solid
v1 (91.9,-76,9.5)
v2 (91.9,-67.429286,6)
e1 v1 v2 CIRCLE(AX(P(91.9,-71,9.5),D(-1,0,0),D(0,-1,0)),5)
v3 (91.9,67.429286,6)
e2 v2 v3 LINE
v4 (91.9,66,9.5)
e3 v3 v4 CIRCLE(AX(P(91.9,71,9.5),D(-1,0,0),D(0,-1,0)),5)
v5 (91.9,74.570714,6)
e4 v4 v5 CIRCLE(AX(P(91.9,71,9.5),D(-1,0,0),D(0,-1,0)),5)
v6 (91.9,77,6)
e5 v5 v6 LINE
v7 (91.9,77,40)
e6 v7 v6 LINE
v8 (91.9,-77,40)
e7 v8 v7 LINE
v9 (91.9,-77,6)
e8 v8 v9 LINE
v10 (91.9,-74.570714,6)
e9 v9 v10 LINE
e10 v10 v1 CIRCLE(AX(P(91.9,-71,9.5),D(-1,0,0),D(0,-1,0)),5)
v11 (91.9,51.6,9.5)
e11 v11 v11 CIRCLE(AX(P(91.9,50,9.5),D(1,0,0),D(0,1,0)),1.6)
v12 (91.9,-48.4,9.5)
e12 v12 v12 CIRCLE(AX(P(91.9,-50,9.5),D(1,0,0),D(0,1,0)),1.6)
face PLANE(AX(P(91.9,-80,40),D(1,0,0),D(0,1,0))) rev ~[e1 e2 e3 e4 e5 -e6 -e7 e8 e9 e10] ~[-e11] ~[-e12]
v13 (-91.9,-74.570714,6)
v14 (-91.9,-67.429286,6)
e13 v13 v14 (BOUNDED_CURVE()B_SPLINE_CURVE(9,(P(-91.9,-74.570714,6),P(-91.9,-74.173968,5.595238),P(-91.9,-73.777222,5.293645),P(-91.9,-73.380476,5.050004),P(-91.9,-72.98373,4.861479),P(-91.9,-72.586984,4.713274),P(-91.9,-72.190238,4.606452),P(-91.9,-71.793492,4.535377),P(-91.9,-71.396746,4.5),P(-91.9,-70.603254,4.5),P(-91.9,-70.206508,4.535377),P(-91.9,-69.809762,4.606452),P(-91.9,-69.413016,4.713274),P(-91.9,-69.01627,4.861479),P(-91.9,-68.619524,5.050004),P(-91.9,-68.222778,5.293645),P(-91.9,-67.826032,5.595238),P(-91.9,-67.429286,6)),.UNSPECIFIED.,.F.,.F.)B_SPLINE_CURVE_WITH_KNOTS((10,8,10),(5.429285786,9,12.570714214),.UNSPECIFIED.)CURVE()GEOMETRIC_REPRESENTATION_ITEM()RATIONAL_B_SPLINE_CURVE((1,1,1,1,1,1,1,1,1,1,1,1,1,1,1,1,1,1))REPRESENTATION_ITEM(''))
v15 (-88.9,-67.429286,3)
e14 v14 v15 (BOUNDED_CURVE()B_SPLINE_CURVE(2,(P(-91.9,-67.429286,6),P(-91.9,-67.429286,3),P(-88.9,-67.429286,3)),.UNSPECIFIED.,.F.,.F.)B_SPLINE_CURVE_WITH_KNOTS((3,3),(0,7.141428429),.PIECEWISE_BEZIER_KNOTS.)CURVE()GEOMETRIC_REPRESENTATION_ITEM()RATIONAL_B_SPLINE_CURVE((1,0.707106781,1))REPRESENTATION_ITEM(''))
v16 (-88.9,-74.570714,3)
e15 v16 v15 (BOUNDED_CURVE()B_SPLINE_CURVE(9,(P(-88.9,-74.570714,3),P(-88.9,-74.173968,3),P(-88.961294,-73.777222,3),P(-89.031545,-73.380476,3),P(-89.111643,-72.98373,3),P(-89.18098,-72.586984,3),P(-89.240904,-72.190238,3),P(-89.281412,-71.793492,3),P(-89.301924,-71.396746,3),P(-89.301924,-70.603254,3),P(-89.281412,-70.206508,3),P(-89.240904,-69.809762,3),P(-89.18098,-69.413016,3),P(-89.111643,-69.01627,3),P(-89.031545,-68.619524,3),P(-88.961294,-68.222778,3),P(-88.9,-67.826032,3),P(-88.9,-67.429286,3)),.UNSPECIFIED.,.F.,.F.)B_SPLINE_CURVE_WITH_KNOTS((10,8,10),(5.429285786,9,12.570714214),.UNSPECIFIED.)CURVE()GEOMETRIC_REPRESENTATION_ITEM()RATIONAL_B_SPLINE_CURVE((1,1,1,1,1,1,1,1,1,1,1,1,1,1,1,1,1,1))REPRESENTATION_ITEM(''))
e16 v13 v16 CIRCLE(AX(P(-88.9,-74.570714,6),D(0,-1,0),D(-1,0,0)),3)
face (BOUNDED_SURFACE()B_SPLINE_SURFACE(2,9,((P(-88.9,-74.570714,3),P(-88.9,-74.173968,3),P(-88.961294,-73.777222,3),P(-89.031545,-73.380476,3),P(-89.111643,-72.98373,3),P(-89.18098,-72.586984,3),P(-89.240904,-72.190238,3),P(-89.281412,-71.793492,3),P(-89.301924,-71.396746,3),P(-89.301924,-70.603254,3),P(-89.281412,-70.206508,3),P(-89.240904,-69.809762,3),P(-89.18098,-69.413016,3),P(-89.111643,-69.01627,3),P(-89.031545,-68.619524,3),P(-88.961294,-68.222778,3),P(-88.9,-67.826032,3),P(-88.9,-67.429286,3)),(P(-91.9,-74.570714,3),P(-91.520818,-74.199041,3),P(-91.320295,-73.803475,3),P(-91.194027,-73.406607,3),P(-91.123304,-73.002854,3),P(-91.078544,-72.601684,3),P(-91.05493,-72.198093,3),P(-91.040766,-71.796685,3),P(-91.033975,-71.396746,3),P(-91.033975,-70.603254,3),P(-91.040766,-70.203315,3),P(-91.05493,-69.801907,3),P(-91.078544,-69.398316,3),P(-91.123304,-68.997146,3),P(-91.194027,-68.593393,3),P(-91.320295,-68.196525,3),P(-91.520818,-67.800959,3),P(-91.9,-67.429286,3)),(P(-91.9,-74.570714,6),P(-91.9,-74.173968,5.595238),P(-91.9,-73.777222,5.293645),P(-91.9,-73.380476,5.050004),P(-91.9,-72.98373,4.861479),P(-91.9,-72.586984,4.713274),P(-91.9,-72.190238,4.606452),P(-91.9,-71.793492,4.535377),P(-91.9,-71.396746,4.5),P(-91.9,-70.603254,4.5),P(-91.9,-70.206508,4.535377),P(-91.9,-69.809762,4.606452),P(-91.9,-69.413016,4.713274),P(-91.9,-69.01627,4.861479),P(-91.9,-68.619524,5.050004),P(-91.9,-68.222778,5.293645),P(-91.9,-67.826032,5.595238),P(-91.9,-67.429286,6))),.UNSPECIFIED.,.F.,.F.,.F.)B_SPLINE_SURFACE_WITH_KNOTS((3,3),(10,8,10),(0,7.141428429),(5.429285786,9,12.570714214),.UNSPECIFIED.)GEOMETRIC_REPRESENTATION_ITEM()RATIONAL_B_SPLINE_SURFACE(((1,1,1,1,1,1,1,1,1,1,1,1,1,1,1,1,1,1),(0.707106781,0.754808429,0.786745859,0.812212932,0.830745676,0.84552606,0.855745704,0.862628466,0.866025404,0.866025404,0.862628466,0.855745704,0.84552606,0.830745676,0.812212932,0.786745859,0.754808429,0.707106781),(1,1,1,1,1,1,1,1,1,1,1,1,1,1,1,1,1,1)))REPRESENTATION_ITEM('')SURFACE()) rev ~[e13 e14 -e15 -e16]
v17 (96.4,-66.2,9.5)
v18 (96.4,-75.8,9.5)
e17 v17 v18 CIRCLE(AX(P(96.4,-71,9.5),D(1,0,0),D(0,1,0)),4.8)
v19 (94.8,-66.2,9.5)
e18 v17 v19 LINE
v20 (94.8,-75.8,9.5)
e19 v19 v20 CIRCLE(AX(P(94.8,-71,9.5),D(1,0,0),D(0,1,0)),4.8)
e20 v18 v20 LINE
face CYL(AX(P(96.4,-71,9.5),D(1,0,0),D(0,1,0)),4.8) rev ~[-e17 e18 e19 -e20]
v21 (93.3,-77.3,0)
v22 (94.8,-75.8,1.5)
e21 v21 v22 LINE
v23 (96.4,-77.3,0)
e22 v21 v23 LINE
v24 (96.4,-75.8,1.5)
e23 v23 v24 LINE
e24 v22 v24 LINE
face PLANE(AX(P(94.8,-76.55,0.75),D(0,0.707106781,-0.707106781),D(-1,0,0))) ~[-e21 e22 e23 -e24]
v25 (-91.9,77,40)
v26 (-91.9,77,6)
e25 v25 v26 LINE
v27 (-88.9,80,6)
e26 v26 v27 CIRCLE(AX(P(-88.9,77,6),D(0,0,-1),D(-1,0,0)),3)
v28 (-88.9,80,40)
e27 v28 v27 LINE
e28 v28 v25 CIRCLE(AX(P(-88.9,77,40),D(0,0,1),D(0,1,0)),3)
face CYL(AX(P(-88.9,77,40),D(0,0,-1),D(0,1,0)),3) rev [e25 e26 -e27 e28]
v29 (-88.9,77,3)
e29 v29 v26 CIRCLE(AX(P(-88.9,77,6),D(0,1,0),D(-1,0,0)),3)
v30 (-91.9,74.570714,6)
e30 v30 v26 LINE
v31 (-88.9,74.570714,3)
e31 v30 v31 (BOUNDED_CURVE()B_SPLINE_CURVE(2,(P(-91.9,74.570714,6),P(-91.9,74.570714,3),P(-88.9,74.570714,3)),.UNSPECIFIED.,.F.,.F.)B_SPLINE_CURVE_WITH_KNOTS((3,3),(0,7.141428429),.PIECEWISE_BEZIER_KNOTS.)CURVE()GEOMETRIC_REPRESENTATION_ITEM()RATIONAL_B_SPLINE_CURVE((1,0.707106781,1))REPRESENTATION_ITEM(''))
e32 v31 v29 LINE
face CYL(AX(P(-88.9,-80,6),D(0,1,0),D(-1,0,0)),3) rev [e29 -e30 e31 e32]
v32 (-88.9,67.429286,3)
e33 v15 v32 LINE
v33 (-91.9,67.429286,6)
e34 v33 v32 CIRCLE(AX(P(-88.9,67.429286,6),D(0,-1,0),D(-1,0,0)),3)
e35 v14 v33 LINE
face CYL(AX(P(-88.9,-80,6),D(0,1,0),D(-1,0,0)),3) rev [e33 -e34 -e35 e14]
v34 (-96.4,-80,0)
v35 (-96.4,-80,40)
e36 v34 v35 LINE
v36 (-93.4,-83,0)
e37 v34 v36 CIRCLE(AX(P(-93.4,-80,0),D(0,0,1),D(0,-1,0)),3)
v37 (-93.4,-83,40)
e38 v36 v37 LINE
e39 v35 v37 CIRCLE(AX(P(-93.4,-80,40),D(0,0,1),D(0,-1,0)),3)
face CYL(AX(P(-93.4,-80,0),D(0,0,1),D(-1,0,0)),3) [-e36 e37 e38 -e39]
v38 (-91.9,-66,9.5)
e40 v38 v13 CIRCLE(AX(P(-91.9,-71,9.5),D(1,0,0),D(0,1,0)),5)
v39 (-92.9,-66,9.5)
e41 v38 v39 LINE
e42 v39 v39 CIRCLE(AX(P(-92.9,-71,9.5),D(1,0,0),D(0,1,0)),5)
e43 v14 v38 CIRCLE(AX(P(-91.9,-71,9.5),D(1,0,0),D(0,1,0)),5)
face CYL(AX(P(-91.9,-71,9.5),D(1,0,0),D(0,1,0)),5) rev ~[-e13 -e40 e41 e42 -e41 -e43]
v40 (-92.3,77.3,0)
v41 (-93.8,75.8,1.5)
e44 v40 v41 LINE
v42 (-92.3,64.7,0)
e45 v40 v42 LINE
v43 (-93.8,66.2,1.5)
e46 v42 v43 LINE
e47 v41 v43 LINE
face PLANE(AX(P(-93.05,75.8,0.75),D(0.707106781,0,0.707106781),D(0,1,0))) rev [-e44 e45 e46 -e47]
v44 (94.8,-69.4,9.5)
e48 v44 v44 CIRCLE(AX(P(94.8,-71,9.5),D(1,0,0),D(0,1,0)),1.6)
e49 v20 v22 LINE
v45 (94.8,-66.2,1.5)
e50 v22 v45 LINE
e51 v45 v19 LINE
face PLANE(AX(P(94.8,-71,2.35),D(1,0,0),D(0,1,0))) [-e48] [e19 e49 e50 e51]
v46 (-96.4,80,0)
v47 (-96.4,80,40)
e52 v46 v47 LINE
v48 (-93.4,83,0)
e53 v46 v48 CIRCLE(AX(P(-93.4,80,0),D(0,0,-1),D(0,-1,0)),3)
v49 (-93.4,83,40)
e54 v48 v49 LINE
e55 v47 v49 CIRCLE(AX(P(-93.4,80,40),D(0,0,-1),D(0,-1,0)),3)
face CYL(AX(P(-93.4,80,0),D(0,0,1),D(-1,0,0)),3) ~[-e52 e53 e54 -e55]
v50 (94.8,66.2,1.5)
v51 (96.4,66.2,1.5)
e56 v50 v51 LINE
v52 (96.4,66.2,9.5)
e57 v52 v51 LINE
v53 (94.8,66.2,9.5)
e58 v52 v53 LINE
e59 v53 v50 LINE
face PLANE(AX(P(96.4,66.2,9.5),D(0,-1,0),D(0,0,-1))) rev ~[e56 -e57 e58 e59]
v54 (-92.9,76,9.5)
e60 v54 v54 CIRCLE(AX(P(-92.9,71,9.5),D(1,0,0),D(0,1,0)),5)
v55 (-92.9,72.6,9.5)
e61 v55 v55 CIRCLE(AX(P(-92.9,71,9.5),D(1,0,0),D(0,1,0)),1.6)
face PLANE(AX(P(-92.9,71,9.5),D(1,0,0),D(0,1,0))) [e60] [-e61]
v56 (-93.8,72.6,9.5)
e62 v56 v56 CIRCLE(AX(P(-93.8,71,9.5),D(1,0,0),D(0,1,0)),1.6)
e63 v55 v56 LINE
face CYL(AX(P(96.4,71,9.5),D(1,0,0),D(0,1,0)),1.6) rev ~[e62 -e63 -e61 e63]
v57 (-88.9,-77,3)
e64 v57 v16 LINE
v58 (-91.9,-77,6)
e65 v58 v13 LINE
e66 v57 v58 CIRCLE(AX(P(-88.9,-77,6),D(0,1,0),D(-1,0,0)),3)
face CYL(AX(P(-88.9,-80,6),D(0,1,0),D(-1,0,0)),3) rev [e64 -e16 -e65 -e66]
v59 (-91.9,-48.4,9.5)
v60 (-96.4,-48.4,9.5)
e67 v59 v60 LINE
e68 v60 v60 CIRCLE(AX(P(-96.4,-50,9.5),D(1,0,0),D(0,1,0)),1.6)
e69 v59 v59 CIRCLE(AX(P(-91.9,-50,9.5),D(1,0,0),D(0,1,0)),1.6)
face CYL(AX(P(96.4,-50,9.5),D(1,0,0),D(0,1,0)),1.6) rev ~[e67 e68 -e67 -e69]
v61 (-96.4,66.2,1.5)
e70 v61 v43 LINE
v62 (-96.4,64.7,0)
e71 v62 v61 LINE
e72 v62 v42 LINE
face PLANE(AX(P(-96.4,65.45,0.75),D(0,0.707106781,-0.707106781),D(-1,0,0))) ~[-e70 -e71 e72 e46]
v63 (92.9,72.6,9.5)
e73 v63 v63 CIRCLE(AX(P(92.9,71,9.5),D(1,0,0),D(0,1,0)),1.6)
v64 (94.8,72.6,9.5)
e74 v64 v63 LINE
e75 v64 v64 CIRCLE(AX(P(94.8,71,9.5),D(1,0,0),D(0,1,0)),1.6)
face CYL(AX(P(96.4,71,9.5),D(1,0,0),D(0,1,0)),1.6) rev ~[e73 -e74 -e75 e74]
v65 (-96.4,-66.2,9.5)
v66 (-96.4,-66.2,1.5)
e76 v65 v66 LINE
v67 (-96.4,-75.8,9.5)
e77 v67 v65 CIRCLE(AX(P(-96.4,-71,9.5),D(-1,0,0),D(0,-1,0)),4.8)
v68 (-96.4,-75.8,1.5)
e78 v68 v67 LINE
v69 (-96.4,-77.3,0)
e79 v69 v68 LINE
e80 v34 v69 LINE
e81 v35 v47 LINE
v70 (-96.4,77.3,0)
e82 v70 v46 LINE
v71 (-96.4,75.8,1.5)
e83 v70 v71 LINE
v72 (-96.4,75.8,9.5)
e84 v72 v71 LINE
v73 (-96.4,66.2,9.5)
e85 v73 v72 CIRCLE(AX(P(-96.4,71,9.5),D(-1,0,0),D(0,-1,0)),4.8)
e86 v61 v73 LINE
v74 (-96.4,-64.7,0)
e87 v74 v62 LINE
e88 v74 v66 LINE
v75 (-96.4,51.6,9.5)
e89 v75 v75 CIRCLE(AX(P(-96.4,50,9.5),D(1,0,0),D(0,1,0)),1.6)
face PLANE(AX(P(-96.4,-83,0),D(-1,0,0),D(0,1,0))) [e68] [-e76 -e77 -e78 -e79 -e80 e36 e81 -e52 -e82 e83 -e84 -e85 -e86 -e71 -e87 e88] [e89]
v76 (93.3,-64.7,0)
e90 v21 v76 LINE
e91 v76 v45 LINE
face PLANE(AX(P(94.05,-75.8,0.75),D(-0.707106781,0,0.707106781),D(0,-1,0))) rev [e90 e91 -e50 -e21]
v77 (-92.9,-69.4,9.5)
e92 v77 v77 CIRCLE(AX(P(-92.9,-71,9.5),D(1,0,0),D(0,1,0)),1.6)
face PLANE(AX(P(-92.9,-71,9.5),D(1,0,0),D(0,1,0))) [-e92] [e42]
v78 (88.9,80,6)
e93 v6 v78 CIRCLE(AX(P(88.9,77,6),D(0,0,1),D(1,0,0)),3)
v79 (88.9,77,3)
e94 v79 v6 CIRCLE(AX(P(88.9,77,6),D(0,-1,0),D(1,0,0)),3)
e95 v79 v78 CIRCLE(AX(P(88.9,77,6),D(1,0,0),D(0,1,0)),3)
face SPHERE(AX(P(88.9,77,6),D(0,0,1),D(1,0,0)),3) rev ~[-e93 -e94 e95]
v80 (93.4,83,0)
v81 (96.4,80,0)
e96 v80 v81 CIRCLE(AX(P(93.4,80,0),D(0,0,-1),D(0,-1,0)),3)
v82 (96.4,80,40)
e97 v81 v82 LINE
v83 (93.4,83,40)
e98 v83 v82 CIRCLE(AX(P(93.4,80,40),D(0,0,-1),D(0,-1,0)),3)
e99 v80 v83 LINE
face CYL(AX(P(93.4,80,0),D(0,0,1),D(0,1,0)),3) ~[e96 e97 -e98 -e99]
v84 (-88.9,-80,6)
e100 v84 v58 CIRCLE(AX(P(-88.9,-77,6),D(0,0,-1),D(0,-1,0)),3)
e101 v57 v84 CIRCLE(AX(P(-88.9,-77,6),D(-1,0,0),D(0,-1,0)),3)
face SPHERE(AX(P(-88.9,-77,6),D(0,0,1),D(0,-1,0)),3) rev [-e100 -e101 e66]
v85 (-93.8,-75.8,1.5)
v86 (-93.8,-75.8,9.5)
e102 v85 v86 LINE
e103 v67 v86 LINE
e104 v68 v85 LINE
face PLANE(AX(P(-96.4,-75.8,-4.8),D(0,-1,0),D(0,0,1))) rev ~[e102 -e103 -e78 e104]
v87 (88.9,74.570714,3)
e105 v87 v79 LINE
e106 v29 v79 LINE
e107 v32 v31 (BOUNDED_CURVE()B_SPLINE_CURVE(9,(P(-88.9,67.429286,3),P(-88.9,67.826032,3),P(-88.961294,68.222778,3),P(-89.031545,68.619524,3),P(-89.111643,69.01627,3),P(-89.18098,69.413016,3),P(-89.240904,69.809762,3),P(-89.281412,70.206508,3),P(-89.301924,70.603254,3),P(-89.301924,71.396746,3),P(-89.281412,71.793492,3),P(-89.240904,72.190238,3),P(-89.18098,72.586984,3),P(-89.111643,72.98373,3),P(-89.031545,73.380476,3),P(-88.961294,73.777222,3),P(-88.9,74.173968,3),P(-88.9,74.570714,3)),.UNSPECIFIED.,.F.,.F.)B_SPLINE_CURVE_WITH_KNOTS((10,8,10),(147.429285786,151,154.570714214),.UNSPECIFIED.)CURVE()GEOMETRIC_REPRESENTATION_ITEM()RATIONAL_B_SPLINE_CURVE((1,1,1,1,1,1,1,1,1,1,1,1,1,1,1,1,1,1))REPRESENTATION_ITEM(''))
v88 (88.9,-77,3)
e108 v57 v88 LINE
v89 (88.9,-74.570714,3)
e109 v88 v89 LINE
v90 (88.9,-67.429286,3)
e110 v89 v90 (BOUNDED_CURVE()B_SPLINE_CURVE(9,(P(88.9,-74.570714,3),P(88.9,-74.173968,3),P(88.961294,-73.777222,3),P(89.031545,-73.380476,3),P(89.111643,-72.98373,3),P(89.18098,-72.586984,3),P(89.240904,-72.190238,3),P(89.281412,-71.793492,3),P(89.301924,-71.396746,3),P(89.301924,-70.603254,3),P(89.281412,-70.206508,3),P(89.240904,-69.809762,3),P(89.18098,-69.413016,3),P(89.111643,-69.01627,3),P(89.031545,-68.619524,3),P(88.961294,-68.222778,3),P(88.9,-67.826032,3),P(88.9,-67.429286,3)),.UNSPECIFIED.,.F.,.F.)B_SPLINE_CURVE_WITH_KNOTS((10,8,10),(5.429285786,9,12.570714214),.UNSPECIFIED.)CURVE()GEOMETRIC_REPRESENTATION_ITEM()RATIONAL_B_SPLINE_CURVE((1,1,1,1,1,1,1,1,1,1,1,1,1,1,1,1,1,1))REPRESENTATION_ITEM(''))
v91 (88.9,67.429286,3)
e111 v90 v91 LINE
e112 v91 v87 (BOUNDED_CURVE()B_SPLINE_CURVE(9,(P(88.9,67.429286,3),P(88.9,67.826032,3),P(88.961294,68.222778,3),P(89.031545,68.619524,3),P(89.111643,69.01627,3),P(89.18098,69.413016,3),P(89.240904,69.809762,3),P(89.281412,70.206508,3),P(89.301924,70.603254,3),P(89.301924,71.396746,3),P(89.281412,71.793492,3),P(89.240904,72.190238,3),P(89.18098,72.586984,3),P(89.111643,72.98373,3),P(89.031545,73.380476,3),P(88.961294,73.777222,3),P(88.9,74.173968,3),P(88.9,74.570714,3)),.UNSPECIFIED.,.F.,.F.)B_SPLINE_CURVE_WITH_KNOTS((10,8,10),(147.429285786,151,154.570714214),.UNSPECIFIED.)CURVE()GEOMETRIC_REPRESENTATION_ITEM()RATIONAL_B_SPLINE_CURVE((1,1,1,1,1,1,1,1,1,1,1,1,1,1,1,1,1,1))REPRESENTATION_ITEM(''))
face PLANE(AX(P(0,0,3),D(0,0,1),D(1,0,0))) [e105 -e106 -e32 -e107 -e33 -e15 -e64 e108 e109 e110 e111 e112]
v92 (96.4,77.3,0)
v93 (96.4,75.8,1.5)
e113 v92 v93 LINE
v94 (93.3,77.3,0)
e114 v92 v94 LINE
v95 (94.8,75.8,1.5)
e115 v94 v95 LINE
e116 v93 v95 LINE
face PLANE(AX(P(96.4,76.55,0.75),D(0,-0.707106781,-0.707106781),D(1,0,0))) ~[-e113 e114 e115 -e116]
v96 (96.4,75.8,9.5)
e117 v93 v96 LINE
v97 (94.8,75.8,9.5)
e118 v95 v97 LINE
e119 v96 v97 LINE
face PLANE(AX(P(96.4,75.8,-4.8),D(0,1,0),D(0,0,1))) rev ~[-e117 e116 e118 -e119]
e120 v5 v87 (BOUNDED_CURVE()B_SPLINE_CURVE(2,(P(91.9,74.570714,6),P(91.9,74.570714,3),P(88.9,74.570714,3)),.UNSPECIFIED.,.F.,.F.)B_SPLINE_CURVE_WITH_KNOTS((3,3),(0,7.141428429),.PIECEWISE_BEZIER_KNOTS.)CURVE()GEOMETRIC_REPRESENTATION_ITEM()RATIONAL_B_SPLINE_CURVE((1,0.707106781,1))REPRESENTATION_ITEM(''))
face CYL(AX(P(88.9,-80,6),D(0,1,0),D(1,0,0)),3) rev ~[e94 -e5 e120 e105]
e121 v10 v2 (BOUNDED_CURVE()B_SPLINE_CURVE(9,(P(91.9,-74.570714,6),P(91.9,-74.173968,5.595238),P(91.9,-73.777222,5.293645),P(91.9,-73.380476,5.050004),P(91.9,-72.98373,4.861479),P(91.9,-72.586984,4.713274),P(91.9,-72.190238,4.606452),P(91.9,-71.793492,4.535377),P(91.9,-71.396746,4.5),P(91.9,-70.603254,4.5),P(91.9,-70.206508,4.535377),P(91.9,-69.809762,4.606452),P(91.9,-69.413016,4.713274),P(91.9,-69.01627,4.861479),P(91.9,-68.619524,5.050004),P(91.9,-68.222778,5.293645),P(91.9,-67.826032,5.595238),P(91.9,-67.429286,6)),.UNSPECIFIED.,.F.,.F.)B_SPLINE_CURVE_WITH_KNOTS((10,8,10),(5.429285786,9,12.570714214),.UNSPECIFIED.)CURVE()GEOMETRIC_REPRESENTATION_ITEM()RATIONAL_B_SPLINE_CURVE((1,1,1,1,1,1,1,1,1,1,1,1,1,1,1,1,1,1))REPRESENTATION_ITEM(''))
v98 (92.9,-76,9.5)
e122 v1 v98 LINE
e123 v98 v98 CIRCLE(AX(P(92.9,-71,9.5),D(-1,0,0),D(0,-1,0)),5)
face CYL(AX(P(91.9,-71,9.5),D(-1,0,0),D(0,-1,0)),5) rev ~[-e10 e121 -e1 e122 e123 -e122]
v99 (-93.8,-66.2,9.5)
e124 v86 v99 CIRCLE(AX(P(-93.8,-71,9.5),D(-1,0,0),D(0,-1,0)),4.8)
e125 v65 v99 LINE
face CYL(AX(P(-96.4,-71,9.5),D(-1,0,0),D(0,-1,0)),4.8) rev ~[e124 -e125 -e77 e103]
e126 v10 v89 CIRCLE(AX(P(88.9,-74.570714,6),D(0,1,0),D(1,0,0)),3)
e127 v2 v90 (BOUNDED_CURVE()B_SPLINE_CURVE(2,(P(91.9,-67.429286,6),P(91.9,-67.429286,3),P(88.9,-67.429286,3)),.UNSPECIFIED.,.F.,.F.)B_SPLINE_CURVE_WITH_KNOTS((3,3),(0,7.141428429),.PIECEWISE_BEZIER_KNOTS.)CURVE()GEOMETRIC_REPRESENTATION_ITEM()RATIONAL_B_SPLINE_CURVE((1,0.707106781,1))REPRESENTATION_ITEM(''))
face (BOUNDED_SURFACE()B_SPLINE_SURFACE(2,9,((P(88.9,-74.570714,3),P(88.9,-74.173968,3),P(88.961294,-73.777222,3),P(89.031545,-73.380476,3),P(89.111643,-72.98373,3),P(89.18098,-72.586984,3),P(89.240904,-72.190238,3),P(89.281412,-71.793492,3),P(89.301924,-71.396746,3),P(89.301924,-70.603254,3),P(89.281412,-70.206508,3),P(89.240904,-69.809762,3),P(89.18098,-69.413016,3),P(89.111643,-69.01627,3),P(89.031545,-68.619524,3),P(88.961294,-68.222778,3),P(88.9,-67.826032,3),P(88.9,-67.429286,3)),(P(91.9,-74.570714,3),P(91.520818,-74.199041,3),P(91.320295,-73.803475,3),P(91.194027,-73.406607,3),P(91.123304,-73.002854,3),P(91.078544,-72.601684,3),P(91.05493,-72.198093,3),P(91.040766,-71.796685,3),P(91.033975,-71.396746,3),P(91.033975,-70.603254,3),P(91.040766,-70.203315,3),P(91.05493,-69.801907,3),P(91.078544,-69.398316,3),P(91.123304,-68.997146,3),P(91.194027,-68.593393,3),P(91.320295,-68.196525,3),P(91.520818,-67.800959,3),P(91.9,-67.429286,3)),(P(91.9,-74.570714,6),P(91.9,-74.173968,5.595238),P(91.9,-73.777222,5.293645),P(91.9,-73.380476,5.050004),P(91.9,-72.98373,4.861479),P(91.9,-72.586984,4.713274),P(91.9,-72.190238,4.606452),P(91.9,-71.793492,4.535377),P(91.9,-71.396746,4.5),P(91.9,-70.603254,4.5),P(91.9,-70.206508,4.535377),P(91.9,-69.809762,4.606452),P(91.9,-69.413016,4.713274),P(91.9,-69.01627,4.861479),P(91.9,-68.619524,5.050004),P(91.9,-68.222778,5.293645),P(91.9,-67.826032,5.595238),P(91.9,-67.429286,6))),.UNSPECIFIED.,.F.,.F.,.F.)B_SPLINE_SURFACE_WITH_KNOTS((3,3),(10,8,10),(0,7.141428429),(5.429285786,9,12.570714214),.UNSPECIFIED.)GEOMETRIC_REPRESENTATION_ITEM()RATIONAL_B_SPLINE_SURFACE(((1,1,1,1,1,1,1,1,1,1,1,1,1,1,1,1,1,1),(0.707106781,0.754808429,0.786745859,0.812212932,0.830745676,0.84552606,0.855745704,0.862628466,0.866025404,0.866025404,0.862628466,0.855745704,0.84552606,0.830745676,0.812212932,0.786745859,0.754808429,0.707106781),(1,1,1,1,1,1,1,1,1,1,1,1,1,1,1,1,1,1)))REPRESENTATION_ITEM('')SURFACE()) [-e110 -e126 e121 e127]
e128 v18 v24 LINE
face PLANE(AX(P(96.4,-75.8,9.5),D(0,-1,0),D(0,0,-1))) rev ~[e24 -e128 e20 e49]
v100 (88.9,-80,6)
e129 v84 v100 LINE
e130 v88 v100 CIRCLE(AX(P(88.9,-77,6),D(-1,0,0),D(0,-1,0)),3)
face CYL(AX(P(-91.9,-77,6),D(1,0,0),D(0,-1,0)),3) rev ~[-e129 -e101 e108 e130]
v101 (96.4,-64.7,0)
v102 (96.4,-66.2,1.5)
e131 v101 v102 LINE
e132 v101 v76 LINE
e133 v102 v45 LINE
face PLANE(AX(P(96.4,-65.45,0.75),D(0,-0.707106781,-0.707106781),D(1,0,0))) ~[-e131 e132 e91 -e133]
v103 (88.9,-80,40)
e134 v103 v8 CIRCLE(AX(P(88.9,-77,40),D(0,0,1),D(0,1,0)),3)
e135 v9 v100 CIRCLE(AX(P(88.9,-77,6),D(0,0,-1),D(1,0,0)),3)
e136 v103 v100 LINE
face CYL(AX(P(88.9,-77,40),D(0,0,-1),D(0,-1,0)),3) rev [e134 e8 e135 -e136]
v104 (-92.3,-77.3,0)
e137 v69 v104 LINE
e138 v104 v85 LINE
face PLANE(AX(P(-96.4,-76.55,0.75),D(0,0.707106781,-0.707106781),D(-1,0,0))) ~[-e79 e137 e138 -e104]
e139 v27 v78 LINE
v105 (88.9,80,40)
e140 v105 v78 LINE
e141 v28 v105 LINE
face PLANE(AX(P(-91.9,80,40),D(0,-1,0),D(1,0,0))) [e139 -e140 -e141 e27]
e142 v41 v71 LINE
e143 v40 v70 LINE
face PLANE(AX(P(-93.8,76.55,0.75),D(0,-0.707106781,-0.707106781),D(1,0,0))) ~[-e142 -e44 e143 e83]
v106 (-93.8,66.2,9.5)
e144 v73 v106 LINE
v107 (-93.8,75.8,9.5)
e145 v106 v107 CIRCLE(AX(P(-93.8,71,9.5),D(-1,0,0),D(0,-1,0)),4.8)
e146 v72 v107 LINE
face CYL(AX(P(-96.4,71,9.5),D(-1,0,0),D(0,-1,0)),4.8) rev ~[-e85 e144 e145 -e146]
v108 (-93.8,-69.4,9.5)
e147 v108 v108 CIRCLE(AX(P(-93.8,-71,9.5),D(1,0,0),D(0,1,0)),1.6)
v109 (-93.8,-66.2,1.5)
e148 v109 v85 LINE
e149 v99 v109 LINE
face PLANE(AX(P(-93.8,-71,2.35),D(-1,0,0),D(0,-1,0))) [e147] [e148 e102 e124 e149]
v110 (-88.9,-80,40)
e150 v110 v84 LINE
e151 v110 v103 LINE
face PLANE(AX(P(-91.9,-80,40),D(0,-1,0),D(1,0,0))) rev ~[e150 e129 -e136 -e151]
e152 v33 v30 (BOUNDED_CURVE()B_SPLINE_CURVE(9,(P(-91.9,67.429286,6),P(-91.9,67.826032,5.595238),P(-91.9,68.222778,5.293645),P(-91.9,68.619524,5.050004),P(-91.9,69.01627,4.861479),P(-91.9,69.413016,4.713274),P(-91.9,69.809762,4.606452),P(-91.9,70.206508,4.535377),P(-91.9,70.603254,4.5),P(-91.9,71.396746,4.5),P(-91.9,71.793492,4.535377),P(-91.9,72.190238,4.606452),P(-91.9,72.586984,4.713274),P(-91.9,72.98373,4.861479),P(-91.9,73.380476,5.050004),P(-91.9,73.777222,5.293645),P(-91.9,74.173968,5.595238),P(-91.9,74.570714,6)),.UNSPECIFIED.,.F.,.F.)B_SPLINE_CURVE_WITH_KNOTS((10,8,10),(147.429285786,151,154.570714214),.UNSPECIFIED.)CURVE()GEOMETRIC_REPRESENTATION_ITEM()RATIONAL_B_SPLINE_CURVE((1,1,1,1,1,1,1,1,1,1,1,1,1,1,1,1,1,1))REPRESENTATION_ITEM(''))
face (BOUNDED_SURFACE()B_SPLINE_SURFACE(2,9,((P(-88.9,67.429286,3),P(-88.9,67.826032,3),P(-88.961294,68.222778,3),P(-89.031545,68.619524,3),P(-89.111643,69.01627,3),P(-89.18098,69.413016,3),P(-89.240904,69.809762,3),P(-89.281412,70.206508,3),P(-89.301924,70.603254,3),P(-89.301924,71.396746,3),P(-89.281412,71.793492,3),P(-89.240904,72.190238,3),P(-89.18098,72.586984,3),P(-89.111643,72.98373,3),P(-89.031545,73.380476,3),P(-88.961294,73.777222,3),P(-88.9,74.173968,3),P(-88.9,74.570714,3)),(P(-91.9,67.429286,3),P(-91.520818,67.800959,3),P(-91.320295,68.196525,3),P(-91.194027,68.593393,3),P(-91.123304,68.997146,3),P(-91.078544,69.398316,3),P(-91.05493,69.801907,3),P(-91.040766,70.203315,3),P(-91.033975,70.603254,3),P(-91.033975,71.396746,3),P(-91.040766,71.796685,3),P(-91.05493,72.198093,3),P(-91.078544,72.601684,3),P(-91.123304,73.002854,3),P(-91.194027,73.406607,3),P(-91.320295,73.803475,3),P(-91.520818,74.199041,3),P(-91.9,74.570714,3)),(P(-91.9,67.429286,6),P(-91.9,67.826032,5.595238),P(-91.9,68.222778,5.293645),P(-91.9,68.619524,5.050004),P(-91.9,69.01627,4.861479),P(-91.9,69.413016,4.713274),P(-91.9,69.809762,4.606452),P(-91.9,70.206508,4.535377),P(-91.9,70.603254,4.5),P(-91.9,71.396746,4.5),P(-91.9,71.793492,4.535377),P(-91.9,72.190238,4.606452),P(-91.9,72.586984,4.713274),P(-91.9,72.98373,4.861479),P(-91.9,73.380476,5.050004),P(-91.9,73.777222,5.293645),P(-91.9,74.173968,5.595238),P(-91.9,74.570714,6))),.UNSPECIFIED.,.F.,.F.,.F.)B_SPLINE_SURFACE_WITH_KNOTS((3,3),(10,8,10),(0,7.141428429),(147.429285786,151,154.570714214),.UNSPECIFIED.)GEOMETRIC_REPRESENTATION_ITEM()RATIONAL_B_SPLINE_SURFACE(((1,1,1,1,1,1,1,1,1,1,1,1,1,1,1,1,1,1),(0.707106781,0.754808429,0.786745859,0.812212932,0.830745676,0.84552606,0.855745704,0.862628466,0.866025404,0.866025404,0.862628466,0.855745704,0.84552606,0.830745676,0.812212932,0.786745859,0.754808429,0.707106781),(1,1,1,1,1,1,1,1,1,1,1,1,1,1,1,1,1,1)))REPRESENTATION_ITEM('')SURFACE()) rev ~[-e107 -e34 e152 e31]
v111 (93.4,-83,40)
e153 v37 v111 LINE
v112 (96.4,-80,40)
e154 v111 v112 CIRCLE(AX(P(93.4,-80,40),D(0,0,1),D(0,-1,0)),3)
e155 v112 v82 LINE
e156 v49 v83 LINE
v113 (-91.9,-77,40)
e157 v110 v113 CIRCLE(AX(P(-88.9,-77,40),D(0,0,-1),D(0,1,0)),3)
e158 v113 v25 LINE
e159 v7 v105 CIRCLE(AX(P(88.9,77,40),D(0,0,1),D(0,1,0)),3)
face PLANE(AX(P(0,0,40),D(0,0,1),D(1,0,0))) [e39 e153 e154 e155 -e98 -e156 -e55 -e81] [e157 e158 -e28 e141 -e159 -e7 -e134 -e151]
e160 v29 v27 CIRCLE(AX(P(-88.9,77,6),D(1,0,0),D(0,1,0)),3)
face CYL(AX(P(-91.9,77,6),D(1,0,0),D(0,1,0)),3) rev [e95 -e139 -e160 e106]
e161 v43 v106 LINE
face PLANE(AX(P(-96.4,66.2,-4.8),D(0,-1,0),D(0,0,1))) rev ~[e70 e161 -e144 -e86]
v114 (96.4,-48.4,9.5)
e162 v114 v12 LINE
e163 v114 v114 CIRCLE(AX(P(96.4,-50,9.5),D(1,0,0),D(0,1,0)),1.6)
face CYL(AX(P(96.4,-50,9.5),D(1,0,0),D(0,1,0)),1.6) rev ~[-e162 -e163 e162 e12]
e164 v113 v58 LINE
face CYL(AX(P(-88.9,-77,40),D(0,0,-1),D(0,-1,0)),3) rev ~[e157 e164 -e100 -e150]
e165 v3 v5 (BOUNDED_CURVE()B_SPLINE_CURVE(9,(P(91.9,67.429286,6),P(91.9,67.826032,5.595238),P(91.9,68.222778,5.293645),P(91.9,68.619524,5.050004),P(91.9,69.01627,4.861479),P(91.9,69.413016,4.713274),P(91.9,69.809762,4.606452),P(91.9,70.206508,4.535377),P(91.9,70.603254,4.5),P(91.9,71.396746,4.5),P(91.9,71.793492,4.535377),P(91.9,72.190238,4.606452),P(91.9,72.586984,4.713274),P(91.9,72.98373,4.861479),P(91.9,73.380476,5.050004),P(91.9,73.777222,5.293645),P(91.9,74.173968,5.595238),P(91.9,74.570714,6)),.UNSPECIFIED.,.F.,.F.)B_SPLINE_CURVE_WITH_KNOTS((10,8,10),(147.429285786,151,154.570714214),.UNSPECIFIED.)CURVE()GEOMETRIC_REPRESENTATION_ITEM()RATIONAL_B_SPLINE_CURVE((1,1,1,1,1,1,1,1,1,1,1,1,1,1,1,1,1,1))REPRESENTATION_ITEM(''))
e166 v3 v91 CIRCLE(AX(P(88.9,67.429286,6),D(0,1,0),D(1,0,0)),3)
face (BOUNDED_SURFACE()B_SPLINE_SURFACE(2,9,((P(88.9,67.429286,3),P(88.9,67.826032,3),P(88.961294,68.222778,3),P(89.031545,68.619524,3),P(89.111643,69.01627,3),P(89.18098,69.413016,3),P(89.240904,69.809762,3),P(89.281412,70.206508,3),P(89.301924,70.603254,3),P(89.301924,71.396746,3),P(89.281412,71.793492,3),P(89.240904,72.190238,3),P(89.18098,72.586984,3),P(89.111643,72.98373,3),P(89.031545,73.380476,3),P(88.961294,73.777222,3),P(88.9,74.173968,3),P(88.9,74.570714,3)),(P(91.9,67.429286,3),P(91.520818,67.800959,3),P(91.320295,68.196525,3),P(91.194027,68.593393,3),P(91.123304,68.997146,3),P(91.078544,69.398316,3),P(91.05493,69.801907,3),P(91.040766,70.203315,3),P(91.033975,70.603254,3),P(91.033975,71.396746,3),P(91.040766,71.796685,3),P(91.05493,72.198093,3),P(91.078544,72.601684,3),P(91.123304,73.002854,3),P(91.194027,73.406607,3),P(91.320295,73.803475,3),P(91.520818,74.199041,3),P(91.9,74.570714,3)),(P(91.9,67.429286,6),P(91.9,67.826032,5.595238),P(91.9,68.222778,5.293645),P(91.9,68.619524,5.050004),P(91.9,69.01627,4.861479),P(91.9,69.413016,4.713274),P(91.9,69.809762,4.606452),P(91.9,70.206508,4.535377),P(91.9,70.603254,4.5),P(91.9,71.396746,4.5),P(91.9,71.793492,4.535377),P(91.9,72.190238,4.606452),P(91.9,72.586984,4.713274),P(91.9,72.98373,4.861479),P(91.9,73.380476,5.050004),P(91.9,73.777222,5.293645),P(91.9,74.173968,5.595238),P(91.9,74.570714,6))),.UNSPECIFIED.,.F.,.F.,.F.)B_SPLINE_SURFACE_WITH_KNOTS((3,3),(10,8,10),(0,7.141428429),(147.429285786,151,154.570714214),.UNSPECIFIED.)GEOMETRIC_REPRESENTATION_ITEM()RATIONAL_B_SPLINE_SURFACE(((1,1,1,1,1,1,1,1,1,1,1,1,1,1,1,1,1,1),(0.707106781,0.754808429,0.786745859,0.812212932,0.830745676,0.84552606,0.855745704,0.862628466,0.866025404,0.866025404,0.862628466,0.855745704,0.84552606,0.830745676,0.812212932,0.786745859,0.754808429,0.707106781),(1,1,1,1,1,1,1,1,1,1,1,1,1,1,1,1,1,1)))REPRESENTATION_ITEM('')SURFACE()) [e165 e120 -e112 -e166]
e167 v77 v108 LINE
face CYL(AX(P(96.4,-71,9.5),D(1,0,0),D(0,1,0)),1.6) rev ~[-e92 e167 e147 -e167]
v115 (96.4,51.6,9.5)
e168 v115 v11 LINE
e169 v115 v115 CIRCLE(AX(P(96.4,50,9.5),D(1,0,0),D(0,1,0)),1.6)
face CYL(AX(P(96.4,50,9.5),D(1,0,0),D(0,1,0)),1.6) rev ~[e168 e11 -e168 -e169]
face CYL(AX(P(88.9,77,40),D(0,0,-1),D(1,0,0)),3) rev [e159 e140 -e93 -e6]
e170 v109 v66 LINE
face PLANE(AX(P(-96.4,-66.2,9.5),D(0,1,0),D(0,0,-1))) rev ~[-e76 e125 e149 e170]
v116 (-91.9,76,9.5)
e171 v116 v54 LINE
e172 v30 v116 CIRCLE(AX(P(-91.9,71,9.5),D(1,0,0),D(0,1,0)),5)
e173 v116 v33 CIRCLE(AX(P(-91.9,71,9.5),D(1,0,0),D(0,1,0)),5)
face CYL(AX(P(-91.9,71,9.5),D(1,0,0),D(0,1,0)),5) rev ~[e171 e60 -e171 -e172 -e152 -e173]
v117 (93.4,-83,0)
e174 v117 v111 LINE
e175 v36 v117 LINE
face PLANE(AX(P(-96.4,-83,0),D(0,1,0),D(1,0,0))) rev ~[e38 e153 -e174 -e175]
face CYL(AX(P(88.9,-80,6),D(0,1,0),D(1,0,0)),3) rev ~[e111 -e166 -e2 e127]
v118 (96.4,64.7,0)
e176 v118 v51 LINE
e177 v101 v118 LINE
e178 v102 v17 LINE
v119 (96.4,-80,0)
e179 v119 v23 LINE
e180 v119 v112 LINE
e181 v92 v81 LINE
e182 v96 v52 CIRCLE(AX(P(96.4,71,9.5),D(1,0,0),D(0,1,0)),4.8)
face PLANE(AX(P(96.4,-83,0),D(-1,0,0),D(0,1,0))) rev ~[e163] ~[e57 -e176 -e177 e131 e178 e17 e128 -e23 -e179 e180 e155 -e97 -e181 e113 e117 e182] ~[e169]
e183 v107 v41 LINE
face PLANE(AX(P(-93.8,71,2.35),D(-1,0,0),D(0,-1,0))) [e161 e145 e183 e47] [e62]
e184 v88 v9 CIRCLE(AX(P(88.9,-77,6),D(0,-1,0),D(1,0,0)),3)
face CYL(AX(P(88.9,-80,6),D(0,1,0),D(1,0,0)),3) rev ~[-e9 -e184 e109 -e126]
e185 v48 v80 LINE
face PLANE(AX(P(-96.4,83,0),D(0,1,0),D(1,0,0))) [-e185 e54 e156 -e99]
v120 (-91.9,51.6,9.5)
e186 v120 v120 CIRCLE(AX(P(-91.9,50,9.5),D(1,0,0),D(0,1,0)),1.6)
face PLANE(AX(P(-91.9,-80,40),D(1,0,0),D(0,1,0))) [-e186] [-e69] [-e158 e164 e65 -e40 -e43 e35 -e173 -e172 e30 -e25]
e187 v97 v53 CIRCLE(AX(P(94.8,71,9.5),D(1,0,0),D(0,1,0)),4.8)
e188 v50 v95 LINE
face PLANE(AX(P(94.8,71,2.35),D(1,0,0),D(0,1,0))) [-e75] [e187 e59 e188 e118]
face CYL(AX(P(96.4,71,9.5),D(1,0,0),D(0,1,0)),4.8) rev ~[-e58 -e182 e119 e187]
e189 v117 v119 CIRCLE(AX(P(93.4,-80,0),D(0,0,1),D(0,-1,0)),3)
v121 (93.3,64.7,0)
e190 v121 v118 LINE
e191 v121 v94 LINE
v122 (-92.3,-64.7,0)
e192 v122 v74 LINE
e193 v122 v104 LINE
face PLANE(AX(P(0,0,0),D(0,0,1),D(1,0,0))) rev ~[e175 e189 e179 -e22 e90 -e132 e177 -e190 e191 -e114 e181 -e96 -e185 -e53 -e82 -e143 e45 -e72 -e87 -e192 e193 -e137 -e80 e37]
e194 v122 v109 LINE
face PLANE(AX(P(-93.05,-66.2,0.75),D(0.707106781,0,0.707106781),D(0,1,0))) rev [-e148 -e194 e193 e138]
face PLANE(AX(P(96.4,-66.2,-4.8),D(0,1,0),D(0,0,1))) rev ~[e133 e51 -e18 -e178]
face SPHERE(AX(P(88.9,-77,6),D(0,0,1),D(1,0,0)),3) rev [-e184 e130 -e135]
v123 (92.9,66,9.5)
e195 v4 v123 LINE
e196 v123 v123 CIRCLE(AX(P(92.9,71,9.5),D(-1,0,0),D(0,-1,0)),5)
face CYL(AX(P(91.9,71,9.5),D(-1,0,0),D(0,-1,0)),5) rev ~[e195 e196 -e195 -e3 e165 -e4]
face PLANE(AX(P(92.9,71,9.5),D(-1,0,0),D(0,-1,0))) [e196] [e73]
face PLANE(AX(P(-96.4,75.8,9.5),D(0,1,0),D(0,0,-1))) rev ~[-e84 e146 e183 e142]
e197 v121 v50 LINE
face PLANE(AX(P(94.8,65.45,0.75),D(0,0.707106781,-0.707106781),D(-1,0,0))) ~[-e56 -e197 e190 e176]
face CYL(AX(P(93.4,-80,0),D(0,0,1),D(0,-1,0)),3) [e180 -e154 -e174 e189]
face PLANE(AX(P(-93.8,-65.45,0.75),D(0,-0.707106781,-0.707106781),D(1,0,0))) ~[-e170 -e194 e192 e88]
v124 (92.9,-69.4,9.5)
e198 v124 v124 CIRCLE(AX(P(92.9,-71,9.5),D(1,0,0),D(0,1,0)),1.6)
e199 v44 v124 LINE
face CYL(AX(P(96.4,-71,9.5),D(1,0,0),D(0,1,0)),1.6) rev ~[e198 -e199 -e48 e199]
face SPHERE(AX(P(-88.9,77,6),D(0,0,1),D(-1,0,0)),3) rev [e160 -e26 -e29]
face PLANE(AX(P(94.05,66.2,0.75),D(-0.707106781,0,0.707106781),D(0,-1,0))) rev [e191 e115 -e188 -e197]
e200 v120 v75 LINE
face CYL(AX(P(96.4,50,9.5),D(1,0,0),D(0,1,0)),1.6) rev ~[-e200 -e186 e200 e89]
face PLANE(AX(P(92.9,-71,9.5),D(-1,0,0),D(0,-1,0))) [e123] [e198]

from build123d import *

# Parameters (mm, degrees)
SKETCH_W        = 192.8
SKETCH_H        = 166
PAD_DEPTH       = 40
SKETCH001_W     = 183.8
SKETCH001_H     = 160
POCKET_DEPTH    = 37
SKETCH002_R     = 1.6
POCKET001_DEPTH = 192.801
POCKET002_DEPTH = 2.6
SKETCH004_R     = 5
POCKET003_DEPTH = 1
SKETCH005_R     = 5
POCKET004_DEPTH = 1
POCKET005_DEPTH = 1.6
FILLET_R        = 3
CHAMFER_SIZE    = 1.5


with BuildPart() as part:
    # Sketch → Pad (new body)
    with BuildSketch(Plane.XY):
        Rectangle(SKETCH_W, SKETCH_H)
    extrude(amount=PAD_DEPTH)

    # Sketch001 (on Face6 of Pad) → Pocket (cut)
    with BuildSketch(Plane.XY.offset(40)):
        Rectangle(SKETCH001_W, SKETCH001_H)
    extrude(amount=-POCKET_DEPTH, mode=Mode.SUBTRACT)

    # Sketch002 (on Face3 of Pocket) → Pocket001 (cut, through all)
    with BuildSketch(Plane.YZ.offset(96.4)):
        with Locations((-71, 9.5)):
            Circle(SKETCH002_R)
        with Locations((-50, 9.5)):
            Circle(SKETCH002_R)
        with Locations((50, 9.5)):
            Circle(SKETCH002_R)
        with Locations((71, 9.5)):
            Circle(SKETCH002_R)
    extrude(amount=-POCKET001_DEPTH, mode=Mode.SUBTRACT)

    # Sketch003 (on Face2 of Pocket001) → Pocket002 (cut)
    with BuildSketch(Plane(origin=(-96.4, 0, 0), x_dir=(0, -1, 0), z_dir=(-1, 0, 0))):
        with BuildLine():
            ThreePointArc((-66.2, 9.5), (-71, 14.3), (-75.8, 9.5))
            Line((-75.8, 9.5), (-75.8, -4.8))
            ThreePointArc((-75.8, -4.8), (-71, -9.6), (-66.2, -4.8))
            Line((-66.2, -4.8), (-66.2, 9.5))
        make_face()
        with BuildLine():
            ThreePointArc((75.8, 9.5), (71, 14.3), (66.2, 9.5))
            Line((66.2, 9.5), (66.2, -4.8))
            ThreePointArc((66.2, -4.8), (71, -9.6), (75.8, -4.8))
            Line((75.8, -4.8), (75.8, 9.5))
        make_face()
    extrude(amount=-POCKET002_DEPTH, mode=Mode.SUBTRACT)

    # Sketch004 (on Face21 of Pocket002) → Pocket003 (cut)
    with BuildSketch(Plane.YZ.offset(-91.9)):
        with Locations((-71, 9.5)):
            Circle(SKETCH004_R)
        with Locations((71, 9.5)):
            Circle(SKETCH004_R)
    extrude(amount=-POCKET003_DEPTH, mode=Mode.SUBTRACT)

    # Sketch005 (on Face23 of Pocket003) → Pocket004 (cut)
    with BuildSketch(Plane(origin=(91.9, 0, 0), x_dir=(0, -1, 0), z_dir=(-1, 0, 0))):
        with Locations((-71, 9.5)):
            Circle(SKETCH005_R)
        with Locations((71, 9.5)):
            Circle(SKETCH005_R)
    extrude(amount=-POCKET004_DEPTH, mode=Mode.SUBTRACT)

    # Sketch006 (on Face3 of Pocket004) → Pocket005 (cut)
    with BuildSketch(Plane.YZ.offset(96.4)):
        with BuildLine():
            ThreePointArc((-66.2, 9.5), (-71, 14.3), (-75.8, 9.5))
            Line((-75.8, 9.5), (-75.8, -4.8))
            ThreePointArc((-75.8, -4.8), (-71, -9.6), (-66.2, -4.8))
            Line((-66.2, -4.8), (-66.2, 9.5))
        make_face()
        with BuildLine():
            ThreePointArc((75.8, 9.5), (71, 14.3), (66.2, 9.5))
            Line((66.2, 9.5), (66.2, -4.8))
            ThreePointArc((66.2, -4.8), (71, -9.6), (75.8, -4.8))
            Line((75.8, -4.8), (75.8, 9.5))
        make_face()
    extrude(amount=-POCKET005_DEPTH, mode=Mode.SUBTRACT)

    # Fillet
    fillet_edges = [part.edges().sort_by_distance(p)[0] for p in [
        (91.9, 80, 21.5),
        (-91.9, 80, 21.5),
        (-91.9, -80, 21.5),
        (91.9, -80, 21.5),
        (91.9, 0, 3),
        (0, -80, 3),
        (-91.9, 0, 3),
        (0, 80, 3),
        (-96.4, 83, 20),
        (-96.4, -83, 20),
        (96.4, -83, 20),
        (96.4, 83, 20),
    ]]
    fillet(fillet_edges, radius=FILLET_R)

    # Chamfer
    chamfer_edges = [part.edges().sort_by_distance(p)[0] for p in [
        (-93.8, -71, 0),
        (-95.1, -66.2, 0),
        (-95.1, -75.8, 0),
        (-95.1, 75.8, 0),
        (-93.8, 71, 0),
        (-95.1, 66.2, 0),
        (94.8, -71, 0),
        (95.6, -66.2, 0),
        (95.6, -75.8, 0),
        (94.8, 71, 0),
        (95.6, 66.2, 0),
        (95.6, 75.8, 0),
    ]]
    chamfer(chamfer_edges, length=CHAMFER_SIZE)


solid = part.part
